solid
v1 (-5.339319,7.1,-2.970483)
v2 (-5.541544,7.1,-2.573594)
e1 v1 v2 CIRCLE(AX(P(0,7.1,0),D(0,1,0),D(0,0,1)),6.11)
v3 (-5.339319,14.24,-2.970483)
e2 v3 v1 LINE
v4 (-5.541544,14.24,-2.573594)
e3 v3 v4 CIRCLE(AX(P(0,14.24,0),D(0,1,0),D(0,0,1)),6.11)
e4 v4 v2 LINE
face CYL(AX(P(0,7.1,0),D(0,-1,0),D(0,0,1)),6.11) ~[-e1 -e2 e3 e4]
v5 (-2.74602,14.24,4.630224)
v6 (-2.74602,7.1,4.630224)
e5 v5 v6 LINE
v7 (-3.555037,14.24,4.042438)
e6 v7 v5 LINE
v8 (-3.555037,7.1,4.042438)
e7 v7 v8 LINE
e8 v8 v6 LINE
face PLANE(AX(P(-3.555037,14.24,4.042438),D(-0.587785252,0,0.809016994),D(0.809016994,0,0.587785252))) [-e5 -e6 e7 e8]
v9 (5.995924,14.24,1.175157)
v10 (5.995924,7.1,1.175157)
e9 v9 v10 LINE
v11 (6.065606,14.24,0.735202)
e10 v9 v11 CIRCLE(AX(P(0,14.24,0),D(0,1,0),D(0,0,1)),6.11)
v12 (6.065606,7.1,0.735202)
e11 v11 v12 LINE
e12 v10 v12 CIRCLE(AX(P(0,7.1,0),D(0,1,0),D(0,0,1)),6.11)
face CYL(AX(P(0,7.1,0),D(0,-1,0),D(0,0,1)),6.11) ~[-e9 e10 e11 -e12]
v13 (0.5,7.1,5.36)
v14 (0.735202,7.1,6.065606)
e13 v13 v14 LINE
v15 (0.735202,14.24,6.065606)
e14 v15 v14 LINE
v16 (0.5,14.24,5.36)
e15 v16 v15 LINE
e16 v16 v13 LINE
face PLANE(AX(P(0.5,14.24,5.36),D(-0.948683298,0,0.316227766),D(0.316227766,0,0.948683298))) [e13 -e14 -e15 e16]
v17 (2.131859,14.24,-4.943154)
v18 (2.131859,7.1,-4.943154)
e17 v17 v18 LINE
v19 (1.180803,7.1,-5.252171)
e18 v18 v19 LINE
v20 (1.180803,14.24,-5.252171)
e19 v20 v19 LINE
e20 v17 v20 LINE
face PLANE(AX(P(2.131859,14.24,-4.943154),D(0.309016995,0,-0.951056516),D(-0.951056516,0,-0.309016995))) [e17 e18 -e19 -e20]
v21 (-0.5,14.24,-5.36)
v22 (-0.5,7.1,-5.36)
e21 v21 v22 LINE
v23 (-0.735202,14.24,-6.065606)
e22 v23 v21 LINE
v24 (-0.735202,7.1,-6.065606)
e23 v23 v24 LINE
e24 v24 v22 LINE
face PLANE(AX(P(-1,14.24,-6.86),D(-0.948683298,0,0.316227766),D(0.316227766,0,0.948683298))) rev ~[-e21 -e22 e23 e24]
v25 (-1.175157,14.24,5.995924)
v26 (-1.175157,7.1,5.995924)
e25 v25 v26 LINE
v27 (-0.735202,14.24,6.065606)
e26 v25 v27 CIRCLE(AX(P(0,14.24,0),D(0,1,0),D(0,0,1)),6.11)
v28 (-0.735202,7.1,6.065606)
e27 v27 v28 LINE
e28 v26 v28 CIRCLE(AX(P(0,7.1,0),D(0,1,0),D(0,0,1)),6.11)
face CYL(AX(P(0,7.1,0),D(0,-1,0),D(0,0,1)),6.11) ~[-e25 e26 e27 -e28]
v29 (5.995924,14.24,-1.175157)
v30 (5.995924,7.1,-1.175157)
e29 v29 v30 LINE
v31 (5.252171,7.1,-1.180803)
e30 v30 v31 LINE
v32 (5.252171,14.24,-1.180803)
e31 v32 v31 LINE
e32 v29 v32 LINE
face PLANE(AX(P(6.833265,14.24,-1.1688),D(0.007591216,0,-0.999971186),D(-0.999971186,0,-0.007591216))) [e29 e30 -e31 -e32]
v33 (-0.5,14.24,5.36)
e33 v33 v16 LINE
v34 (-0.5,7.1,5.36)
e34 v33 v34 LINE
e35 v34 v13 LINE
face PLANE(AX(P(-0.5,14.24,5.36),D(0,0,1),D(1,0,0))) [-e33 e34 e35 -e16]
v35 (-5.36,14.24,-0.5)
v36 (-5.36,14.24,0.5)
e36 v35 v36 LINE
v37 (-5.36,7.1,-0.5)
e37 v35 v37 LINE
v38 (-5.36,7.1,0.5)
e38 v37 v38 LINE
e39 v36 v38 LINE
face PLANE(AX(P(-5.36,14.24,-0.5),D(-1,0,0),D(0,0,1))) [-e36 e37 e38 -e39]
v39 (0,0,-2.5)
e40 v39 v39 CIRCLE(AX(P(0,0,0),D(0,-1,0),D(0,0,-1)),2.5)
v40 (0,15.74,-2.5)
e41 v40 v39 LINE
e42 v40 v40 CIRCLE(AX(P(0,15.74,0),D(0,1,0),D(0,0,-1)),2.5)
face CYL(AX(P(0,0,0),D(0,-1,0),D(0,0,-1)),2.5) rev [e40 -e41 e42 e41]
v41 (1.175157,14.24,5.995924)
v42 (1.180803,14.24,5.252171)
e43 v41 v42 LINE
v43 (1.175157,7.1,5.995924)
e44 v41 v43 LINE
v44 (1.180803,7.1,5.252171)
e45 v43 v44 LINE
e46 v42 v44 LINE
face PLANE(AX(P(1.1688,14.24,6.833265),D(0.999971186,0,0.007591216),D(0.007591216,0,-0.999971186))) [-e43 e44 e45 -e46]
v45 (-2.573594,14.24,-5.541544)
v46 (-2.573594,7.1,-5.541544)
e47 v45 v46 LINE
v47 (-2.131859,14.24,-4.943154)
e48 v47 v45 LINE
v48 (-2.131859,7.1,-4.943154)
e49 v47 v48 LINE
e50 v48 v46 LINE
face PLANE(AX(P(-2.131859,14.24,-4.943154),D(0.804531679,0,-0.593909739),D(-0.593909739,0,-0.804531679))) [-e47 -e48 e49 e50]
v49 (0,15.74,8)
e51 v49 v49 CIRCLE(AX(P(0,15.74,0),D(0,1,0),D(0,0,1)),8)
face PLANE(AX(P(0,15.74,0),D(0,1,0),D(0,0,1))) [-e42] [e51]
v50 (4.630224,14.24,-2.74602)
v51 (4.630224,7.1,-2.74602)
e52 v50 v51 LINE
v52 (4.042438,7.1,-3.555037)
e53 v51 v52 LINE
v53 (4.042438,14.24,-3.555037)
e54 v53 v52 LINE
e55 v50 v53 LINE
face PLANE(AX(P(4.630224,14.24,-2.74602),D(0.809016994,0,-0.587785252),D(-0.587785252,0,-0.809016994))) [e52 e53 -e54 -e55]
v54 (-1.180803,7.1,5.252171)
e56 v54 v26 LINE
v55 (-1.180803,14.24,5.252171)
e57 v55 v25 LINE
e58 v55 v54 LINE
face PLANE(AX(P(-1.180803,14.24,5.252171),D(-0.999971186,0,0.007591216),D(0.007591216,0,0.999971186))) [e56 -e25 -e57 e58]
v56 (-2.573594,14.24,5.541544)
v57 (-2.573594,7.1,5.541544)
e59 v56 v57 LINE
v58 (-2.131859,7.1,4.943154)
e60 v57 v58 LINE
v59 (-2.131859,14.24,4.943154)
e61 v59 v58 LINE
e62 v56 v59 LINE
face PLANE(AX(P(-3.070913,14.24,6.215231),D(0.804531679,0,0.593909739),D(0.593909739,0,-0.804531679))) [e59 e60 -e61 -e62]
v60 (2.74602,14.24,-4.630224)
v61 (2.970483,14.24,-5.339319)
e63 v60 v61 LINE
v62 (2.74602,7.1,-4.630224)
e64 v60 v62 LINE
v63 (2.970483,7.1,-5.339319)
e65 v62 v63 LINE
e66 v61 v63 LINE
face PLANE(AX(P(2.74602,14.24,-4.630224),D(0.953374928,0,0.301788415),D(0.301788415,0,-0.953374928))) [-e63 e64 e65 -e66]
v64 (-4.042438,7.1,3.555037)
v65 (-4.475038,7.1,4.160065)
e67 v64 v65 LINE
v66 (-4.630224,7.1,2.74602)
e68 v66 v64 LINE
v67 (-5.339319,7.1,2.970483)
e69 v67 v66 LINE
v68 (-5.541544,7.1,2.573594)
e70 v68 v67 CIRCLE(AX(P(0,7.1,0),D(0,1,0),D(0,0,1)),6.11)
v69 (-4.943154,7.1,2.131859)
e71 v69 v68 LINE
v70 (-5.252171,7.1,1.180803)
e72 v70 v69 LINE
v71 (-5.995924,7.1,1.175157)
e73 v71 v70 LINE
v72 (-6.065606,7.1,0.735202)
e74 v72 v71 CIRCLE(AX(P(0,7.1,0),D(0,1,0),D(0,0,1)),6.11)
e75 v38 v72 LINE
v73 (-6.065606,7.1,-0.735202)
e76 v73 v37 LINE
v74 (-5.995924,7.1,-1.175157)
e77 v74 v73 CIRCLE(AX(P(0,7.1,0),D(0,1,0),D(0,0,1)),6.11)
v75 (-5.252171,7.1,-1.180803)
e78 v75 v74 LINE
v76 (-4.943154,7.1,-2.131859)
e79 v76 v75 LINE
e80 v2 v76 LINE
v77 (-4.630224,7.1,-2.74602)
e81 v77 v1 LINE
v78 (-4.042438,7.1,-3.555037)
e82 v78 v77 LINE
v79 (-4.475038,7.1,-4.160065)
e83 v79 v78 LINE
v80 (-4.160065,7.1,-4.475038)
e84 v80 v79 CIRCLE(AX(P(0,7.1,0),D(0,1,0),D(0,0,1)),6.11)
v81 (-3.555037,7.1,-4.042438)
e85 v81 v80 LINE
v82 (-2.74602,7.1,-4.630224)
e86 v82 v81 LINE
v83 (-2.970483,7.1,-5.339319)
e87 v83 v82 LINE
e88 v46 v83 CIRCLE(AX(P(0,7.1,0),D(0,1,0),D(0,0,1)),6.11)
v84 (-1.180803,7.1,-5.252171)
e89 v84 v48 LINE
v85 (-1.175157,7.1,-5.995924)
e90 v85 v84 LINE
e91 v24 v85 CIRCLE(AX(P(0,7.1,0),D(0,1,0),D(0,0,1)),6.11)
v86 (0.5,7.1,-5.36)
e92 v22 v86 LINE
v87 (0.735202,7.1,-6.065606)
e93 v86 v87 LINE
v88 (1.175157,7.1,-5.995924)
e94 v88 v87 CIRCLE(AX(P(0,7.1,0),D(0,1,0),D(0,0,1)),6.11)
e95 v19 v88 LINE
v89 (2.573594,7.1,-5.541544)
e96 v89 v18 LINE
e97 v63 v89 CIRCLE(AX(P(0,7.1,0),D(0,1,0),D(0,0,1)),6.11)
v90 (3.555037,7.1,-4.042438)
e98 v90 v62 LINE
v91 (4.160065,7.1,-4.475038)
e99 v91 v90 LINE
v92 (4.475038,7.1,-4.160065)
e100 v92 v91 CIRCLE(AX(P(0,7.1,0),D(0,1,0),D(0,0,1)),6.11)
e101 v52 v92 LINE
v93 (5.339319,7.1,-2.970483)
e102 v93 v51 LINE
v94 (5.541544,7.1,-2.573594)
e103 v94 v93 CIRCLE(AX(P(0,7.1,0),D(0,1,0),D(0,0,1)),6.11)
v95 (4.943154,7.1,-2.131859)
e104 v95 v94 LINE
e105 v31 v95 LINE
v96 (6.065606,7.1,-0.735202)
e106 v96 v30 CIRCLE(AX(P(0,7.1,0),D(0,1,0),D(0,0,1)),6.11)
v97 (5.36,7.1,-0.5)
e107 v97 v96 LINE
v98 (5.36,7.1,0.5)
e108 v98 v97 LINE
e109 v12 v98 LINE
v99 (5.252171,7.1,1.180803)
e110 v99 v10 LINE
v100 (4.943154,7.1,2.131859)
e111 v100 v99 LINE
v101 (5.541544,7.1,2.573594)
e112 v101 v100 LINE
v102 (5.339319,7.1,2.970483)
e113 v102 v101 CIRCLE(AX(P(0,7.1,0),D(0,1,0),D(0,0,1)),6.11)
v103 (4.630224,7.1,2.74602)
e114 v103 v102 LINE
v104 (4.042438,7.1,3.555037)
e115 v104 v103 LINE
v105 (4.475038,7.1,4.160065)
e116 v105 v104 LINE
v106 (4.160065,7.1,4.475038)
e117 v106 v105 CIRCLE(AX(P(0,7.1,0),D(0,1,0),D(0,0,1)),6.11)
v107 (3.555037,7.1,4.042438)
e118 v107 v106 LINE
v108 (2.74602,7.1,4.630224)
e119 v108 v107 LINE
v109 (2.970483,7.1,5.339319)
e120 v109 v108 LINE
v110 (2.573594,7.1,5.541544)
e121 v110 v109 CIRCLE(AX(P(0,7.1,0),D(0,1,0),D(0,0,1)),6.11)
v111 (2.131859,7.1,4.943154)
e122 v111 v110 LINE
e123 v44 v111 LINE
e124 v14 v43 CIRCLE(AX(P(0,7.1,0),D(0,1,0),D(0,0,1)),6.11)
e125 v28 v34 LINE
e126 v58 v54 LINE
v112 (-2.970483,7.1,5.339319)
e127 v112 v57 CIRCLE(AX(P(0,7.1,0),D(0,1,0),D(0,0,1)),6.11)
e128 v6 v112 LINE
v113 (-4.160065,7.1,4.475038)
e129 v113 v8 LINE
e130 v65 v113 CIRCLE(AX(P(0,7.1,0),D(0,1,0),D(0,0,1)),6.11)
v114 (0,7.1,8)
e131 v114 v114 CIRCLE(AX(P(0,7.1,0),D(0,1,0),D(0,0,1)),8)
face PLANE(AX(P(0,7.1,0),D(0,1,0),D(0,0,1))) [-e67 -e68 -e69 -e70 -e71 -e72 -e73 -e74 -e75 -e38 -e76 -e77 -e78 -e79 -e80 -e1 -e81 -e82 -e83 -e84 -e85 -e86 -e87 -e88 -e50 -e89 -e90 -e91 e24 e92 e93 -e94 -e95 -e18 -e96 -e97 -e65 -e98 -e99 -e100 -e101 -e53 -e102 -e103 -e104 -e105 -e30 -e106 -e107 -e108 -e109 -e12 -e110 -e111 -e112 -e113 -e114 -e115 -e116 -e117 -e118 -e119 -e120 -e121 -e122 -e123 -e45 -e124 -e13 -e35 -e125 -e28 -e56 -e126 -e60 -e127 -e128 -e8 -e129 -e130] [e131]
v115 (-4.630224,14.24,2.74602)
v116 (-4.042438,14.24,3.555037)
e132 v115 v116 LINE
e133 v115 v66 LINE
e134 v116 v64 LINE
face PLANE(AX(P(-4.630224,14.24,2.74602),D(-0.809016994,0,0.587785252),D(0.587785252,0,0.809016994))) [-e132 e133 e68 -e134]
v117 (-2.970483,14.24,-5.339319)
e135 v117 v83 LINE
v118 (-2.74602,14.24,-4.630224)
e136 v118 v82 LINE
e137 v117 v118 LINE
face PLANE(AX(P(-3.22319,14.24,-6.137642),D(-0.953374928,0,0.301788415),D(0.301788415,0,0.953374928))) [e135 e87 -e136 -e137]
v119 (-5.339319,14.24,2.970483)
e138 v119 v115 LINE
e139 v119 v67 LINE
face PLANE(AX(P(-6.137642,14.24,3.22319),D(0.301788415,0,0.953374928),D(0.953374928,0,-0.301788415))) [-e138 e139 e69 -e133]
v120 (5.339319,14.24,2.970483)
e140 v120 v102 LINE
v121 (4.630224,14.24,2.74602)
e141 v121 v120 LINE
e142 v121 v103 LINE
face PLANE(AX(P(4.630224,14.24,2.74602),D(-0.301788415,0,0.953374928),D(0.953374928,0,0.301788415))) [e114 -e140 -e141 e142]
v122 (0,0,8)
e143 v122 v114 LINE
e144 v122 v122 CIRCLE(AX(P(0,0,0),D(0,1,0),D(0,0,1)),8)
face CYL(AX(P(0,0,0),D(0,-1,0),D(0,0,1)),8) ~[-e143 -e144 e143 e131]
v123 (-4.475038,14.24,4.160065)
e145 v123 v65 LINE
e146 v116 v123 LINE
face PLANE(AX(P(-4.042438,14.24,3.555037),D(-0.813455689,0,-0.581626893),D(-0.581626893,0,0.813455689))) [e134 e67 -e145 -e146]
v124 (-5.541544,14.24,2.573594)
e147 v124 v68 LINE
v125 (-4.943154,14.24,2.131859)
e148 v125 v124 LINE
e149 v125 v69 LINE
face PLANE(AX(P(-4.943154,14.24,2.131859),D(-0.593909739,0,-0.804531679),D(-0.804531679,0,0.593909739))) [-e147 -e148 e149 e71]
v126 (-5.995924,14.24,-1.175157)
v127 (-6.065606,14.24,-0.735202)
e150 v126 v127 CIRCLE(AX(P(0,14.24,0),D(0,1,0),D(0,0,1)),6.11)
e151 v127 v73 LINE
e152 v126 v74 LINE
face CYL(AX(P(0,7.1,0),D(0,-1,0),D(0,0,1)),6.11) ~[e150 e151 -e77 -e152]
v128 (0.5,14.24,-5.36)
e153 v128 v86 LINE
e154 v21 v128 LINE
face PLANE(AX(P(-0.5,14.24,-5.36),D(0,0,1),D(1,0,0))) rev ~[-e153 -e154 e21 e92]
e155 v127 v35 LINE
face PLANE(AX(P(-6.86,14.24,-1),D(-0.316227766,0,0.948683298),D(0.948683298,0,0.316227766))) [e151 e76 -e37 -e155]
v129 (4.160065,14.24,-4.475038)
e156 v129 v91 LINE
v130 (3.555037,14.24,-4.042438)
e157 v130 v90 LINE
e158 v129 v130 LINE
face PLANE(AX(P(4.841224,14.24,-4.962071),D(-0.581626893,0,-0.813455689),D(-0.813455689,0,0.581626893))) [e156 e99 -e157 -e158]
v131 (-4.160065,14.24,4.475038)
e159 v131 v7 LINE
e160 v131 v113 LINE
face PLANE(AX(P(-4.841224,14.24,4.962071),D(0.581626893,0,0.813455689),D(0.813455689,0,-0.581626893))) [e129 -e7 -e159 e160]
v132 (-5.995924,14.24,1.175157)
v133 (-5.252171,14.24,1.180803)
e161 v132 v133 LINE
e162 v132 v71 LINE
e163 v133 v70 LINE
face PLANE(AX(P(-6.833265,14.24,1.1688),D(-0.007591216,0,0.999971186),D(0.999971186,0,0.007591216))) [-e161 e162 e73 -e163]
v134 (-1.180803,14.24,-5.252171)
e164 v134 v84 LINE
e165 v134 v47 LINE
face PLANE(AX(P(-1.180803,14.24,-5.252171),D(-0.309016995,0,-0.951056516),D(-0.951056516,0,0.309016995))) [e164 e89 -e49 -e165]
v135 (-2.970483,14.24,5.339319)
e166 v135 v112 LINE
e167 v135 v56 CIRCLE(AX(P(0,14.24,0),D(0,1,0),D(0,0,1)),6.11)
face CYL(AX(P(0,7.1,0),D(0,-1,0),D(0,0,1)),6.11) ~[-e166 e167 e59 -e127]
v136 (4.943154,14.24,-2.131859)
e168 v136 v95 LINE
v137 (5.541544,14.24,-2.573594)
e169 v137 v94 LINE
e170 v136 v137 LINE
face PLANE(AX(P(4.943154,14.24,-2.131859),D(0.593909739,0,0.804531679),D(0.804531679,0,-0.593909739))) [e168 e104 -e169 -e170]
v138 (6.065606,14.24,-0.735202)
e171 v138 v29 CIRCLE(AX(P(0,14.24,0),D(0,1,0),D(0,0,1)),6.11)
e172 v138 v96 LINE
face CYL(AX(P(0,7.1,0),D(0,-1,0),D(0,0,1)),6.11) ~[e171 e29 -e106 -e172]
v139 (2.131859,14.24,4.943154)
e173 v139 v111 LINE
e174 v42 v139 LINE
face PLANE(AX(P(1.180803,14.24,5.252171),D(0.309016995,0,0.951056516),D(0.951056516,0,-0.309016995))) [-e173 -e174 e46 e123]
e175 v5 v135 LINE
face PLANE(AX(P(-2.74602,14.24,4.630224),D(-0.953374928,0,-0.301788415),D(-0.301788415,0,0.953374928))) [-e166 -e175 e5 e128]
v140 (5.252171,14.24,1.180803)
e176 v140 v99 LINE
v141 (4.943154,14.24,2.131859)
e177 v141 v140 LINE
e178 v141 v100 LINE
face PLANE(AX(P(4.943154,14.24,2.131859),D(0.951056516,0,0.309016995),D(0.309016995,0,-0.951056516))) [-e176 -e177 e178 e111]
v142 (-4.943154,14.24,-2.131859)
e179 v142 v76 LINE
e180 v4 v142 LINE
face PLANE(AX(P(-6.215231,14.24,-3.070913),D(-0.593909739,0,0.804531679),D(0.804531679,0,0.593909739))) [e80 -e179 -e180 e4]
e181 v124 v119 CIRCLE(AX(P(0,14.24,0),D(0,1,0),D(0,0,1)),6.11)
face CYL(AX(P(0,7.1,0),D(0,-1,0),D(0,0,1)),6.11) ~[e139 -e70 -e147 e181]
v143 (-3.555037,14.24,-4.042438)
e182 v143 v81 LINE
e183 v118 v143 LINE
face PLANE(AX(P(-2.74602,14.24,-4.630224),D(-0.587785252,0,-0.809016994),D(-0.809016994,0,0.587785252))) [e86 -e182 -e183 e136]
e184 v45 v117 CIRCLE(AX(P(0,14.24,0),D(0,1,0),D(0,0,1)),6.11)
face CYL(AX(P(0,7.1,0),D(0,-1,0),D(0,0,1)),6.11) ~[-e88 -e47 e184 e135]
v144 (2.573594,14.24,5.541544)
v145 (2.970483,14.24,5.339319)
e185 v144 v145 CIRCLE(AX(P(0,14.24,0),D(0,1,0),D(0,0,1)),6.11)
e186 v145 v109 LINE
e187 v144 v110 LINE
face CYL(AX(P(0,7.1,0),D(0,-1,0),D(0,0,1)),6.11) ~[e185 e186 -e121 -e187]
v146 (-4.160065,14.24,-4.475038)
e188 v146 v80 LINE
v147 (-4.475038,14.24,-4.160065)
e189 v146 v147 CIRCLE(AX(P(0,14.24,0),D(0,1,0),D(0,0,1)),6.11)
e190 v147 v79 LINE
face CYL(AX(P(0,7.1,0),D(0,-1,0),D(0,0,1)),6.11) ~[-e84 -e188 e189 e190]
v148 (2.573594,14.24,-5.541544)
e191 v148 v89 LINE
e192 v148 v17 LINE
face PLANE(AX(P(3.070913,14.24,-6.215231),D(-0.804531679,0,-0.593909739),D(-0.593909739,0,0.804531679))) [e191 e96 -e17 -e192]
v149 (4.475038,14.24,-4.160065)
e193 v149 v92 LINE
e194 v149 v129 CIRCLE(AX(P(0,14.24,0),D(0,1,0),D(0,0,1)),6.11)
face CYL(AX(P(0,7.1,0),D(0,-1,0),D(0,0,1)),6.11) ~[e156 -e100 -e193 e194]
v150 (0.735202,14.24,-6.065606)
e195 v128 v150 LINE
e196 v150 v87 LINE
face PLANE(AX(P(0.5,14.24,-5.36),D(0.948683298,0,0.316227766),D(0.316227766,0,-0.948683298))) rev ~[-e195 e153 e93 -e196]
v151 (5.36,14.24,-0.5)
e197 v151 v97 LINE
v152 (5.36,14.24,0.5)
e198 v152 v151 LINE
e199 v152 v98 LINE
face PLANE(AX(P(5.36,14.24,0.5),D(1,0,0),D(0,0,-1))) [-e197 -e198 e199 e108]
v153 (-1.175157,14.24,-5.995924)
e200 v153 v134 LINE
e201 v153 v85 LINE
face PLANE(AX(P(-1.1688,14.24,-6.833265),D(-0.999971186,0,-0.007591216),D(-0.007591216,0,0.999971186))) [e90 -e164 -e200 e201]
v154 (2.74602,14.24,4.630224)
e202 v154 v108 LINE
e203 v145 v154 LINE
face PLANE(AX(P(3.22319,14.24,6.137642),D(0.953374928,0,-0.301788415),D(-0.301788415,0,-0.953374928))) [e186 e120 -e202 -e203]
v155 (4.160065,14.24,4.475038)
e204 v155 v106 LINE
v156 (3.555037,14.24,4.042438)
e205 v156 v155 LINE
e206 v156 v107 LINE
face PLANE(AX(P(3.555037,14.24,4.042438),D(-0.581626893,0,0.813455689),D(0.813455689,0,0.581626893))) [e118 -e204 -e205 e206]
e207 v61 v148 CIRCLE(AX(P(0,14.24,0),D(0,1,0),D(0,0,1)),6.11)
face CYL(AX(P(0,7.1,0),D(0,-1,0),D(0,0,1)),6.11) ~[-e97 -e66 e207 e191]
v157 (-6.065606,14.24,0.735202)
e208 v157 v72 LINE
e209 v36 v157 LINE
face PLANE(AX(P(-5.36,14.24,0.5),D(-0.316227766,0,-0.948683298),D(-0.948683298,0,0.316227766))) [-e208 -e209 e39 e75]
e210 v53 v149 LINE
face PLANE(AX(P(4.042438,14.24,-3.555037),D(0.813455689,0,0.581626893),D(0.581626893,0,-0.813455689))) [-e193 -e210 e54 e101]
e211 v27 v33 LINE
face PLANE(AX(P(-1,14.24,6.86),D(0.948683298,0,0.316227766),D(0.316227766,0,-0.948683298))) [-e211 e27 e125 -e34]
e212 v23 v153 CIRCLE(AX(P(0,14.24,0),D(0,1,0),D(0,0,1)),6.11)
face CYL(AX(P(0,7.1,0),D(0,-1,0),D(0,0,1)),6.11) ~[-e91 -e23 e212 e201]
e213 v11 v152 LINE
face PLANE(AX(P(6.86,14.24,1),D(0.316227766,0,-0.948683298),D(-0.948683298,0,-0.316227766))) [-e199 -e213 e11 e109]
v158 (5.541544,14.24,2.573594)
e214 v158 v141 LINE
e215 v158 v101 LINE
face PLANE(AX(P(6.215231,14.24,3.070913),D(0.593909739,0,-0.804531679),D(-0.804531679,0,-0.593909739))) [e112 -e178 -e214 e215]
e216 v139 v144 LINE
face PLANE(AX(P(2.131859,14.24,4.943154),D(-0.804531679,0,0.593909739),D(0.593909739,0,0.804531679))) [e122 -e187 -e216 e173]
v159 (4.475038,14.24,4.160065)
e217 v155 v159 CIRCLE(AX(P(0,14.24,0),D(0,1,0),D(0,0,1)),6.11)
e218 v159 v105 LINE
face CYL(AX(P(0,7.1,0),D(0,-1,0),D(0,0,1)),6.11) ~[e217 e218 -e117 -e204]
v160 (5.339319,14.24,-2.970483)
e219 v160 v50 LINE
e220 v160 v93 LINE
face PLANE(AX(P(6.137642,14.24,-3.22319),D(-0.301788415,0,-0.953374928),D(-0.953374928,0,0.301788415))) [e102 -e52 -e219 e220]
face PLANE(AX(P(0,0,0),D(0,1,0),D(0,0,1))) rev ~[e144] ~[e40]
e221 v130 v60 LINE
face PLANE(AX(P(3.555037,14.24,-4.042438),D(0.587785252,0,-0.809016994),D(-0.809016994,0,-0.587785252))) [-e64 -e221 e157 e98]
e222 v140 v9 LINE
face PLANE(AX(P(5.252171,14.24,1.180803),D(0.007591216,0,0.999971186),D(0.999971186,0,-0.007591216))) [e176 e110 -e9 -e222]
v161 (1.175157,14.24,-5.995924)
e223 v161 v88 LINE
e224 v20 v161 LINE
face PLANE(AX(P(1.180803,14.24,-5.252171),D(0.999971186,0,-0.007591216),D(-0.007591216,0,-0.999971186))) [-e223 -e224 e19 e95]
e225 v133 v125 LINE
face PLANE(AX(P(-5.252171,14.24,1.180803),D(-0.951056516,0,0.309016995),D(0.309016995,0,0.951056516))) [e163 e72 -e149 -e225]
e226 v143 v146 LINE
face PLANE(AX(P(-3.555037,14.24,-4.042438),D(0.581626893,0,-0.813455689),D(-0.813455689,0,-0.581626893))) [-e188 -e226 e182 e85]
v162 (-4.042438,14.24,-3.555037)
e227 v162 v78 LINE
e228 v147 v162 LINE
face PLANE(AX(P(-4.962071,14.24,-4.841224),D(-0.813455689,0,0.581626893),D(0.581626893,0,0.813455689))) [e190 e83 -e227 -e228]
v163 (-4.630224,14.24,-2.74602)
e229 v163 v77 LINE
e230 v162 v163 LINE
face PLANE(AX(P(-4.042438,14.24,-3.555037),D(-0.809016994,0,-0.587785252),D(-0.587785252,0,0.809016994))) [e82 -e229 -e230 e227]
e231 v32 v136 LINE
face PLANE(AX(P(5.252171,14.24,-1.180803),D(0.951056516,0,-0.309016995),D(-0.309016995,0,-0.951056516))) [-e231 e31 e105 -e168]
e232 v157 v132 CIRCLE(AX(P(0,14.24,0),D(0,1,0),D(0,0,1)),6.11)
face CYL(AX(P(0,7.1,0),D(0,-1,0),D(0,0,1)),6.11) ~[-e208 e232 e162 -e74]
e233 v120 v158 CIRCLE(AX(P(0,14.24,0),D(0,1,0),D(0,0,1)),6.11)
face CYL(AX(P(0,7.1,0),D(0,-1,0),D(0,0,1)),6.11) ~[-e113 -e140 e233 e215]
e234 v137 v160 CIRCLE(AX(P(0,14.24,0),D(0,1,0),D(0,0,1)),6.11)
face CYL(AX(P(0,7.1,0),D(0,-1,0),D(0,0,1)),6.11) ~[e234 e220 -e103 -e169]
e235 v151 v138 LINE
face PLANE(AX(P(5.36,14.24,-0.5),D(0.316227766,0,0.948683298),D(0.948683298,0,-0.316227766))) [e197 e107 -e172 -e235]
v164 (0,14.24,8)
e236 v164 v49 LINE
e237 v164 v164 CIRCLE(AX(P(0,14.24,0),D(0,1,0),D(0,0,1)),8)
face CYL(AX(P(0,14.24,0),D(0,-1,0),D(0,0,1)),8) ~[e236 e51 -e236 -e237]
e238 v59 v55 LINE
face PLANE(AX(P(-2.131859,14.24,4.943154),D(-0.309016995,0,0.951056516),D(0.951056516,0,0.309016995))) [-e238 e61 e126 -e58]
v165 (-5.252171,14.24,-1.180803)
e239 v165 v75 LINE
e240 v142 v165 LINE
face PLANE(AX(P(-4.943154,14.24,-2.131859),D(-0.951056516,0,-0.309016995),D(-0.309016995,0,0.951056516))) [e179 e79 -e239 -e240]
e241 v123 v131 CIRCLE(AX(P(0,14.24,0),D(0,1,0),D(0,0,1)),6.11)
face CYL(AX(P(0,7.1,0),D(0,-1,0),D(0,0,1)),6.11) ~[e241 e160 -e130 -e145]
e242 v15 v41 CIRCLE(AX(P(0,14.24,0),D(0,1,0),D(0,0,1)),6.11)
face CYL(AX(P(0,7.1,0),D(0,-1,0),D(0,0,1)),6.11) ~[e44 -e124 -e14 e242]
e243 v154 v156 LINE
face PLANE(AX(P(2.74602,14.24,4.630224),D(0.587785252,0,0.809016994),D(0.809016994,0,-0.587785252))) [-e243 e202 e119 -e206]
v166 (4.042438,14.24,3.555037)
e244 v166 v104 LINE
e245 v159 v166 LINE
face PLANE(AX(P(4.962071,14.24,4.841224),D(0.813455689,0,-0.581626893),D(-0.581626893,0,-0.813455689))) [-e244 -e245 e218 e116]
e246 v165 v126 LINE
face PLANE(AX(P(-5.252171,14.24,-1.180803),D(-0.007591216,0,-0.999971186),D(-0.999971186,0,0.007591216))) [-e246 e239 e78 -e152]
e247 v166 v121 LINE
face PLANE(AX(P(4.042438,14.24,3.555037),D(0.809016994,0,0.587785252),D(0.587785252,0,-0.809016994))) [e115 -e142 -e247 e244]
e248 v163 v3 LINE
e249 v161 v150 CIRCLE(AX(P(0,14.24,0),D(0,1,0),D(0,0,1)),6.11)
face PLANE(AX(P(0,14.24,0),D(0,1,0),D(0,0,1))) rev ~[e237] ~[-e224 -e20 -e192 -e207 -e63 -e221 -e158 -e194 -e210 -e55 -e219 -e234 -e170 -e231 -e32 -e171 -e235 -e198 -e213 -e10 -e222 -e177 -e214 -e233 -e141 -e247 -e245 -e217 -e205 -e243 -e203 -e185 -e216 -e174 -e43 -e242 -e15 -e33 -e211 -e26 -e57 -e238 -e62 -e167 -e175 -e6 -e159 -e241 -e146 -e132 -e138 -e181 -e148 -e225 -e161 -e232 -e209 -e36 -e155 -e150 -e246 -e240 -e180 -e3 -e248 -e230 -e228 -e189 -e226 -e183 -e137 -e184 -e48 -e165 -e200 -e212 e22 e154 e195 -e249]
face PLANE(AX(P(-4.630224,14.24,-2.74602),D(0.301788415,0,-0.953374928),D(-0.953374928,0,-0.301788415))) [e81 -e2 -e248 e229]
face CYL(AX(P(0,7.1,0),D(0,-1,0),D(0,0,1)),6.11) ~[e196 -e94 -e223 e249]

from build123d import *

# Parameters (mm, degrees)
SKETCH1_R           = 8
BOSS_EXTRUDE1_DEPTH = 7.1
SKETCH2_R           = 6.11
BOSS_EXTRUDE2_DEPTH = 7.14
SKETCH5_R           = 2.5
CUT_EXTRUDE2_DEPTH  = 16
CUT_EXTRUDE3_DEPTH  = 7.14
SKETCH8_R           = 8
BOSS_EXTRUDE4_DEPTH = 1.5
CUT_EXTRUDE4_START  = -15.74
SKETCH9_R           = 2.5
CUT_EXTRUDE4_DEPTH  = 15.74


with BuildPart() as part:
    # Sketch1 → Boss-Extrude1 (new body)
    with BuildSketch(Plane(origin=(0, 0, 0), x_dir=(1, 0, 0), z_dir=(0, 1, 0))):
        with Locations(Location((0, 0, 0), (0, 0, 270))):
            Circle(SKETCH1_R)
    extrude(amount=BOSS_EXTRUDE1_DEPTH)

    # Sketch2 → Boss-Extrude2 (add)
    with BuildSketch(Plane(origin=(0, 7.1, 0), x_dir=(1, 0, 0), z_dir=(0, 1, 0))):
        with Locations(Location((0, 0, 0), (0, 0, 270))):
            Circle(SKETCH2_R)
    extrude(amount=BOSS_EXTRUDE2_DEPTH)

    # Sketch5 → Cut-Extrude2 (cut)
    with BuildSketch(Plane.XZ):
        with Locations(Location((0, 0, 0), (0, 0, 270))):
            Circle(SKETCH5_R)
    extrude(amount=-CUT_EXTRUDE2_DEPTH, mode=Mode.SUBTRACT)

    # Sketch7 → Cut-Extrude3 (cut)
    with BuildSketch(Plane(origin=(0, 14.24, 0), x_dir=(1, 0, 0), z_dir=(0, 1, 0))):
        Polygon((-0.5, 5.36), (0.5, 5.36), (1, 6.86), (-1, 6.86), align=None)
        Polygon((3.070913098, 6.215230707), (2.131859348, 4.94315443), (1.180802832, 5.252171425), (1.168800065, 6.833264696), align=None)
        Polygon((4.841223825, 4.962071329), (3.555037449, 4.042438464), (2.746020455, 4.630223716), (3.223189836, 6.137641834), align=None)
        Polygon((6.137641834, 3.223189836), (4.630223716, 2.746020455), (4.042438464, 3.555037449), (4.962071329, 4.841223825), align=None)
        Polygon((6.833264696, 1.168800065), (5.252171425, 1.180802832), (4.94315443, 2.131859348), (6.215230707, 3.070913098), align=None)
        Polygon((6.86, -1), (5.36, -0.5), (5.36, 0.5), (6.86, 1), align=None)
        Polygon((6.215230707, -3.070913098), (4.94315443, -2.131859348), (5.252171425, -1.180802832), (6.833264696, -1.168800065), align=None)
        Polygon((4.962071329, -4.841223825), (4.042438464, -3.555037449), (4.630223716, -2.746020455), (6.137641834, -3.223189836), align=None)
        Polygon((3.223189836, -6.137641834), (2.746020455, -4.630223716), (3.555037449, -4.042438464), (4.841223825, -4.962071329), align=None)
        Polygon((1.168800065, -6.833264696), (1.180802832, -5.252171425), (2.131859348, -4.94315443), (3.070913098, -6.215230707), align=None)
        Polygon((-1, -6.86), (-0.5, -5.36), (0.5, -5.36), (1, -6.86), align=None)
        Polygon((-3.070913098, -6.215230707), (-2.131859348, -4.94315443), (-1.180802832, -5.252171425), (-1.168800065, -6.833264696), align=None)
        Polygon((-4.841223825, -4.962071329), (-3.555037449, -4.042438464), (-2.746020455, -4.630223716), (-3.223189836, -6.137641834), align=None)
        Polygon((-6.137641834, -3.223189836), (-4.630223716, -2.746020455), (-4.042438464, -3.555037449), (-4.962071329, -4.841223825), align=None)
        Polygon((-6.833264696, -1.168800065), (-5.252171425, -1.180802832), (-4.94315443, -2.131859348), (-6.215230707, -3.070913098), align=None)
        Polygon((-6.86, 1), (-5.36, 0.5), (-5.36, -0.5), (-6.86, -1), align=None)
        Polygon((-6.215230707, 3.070913098), (-4.94315443, 2.131859348), (-5.252171425, 1.180802832), (-6.833264696, 1.168800065), align=None)
        Polygon((-4.962071329, 4.841223825), (-4.042438464, 3.555037449), (-4.630223716, 2.746020455), (-6.137641834, 3.223189836), align=None)
        Polygon((-3.223189836, 6.137641834), (-2.746020455, 4.630223716), (-3.555037449, 4.042438464), (-4.841223825, 4.962071329), align=None)
        Polygon((-1.168800065, 6.833264696), (-1.180802832, 5.252171425), (-2.131859348, 4.94315443), (-3.070913098, 6.215230707), align=None)
    extrude(amount=-CUT_EXTRUDE3_DEPTH, mode=Mode.SUBTRACT)

    # Sketch8 → Boss-Extrude4 (add)
    with BuildSketch(Plane(origin=(0, 14.24, 0), x_dir=(1, 0, 0), z_dir=(0, 1, 0))):
        with Locations(Location((0, 0, 0), (0, 0, 270))):
            Circle(SKETCH8_R)
    extrude(amount=BOSS_EXTRUDE4_DEPTH)

    # Sketch9 → Cut-Extrude4 (cut)
    with BuildSketch(Plane(origin=(0, 15.74, 0), x_dir=(1, 0, 0), z_dir=(0, 1, 0)).offset(CUT_EXTRUDE4_START)):
        with Locations(Location((0, 0, 0), (0, 0, 90))):
            Circle(SKETCH9_R)
    extrude(amount=CUT_EXTRUDE4_DEPTH, mode=Mode.SUBTRACT)


solid = part.part
